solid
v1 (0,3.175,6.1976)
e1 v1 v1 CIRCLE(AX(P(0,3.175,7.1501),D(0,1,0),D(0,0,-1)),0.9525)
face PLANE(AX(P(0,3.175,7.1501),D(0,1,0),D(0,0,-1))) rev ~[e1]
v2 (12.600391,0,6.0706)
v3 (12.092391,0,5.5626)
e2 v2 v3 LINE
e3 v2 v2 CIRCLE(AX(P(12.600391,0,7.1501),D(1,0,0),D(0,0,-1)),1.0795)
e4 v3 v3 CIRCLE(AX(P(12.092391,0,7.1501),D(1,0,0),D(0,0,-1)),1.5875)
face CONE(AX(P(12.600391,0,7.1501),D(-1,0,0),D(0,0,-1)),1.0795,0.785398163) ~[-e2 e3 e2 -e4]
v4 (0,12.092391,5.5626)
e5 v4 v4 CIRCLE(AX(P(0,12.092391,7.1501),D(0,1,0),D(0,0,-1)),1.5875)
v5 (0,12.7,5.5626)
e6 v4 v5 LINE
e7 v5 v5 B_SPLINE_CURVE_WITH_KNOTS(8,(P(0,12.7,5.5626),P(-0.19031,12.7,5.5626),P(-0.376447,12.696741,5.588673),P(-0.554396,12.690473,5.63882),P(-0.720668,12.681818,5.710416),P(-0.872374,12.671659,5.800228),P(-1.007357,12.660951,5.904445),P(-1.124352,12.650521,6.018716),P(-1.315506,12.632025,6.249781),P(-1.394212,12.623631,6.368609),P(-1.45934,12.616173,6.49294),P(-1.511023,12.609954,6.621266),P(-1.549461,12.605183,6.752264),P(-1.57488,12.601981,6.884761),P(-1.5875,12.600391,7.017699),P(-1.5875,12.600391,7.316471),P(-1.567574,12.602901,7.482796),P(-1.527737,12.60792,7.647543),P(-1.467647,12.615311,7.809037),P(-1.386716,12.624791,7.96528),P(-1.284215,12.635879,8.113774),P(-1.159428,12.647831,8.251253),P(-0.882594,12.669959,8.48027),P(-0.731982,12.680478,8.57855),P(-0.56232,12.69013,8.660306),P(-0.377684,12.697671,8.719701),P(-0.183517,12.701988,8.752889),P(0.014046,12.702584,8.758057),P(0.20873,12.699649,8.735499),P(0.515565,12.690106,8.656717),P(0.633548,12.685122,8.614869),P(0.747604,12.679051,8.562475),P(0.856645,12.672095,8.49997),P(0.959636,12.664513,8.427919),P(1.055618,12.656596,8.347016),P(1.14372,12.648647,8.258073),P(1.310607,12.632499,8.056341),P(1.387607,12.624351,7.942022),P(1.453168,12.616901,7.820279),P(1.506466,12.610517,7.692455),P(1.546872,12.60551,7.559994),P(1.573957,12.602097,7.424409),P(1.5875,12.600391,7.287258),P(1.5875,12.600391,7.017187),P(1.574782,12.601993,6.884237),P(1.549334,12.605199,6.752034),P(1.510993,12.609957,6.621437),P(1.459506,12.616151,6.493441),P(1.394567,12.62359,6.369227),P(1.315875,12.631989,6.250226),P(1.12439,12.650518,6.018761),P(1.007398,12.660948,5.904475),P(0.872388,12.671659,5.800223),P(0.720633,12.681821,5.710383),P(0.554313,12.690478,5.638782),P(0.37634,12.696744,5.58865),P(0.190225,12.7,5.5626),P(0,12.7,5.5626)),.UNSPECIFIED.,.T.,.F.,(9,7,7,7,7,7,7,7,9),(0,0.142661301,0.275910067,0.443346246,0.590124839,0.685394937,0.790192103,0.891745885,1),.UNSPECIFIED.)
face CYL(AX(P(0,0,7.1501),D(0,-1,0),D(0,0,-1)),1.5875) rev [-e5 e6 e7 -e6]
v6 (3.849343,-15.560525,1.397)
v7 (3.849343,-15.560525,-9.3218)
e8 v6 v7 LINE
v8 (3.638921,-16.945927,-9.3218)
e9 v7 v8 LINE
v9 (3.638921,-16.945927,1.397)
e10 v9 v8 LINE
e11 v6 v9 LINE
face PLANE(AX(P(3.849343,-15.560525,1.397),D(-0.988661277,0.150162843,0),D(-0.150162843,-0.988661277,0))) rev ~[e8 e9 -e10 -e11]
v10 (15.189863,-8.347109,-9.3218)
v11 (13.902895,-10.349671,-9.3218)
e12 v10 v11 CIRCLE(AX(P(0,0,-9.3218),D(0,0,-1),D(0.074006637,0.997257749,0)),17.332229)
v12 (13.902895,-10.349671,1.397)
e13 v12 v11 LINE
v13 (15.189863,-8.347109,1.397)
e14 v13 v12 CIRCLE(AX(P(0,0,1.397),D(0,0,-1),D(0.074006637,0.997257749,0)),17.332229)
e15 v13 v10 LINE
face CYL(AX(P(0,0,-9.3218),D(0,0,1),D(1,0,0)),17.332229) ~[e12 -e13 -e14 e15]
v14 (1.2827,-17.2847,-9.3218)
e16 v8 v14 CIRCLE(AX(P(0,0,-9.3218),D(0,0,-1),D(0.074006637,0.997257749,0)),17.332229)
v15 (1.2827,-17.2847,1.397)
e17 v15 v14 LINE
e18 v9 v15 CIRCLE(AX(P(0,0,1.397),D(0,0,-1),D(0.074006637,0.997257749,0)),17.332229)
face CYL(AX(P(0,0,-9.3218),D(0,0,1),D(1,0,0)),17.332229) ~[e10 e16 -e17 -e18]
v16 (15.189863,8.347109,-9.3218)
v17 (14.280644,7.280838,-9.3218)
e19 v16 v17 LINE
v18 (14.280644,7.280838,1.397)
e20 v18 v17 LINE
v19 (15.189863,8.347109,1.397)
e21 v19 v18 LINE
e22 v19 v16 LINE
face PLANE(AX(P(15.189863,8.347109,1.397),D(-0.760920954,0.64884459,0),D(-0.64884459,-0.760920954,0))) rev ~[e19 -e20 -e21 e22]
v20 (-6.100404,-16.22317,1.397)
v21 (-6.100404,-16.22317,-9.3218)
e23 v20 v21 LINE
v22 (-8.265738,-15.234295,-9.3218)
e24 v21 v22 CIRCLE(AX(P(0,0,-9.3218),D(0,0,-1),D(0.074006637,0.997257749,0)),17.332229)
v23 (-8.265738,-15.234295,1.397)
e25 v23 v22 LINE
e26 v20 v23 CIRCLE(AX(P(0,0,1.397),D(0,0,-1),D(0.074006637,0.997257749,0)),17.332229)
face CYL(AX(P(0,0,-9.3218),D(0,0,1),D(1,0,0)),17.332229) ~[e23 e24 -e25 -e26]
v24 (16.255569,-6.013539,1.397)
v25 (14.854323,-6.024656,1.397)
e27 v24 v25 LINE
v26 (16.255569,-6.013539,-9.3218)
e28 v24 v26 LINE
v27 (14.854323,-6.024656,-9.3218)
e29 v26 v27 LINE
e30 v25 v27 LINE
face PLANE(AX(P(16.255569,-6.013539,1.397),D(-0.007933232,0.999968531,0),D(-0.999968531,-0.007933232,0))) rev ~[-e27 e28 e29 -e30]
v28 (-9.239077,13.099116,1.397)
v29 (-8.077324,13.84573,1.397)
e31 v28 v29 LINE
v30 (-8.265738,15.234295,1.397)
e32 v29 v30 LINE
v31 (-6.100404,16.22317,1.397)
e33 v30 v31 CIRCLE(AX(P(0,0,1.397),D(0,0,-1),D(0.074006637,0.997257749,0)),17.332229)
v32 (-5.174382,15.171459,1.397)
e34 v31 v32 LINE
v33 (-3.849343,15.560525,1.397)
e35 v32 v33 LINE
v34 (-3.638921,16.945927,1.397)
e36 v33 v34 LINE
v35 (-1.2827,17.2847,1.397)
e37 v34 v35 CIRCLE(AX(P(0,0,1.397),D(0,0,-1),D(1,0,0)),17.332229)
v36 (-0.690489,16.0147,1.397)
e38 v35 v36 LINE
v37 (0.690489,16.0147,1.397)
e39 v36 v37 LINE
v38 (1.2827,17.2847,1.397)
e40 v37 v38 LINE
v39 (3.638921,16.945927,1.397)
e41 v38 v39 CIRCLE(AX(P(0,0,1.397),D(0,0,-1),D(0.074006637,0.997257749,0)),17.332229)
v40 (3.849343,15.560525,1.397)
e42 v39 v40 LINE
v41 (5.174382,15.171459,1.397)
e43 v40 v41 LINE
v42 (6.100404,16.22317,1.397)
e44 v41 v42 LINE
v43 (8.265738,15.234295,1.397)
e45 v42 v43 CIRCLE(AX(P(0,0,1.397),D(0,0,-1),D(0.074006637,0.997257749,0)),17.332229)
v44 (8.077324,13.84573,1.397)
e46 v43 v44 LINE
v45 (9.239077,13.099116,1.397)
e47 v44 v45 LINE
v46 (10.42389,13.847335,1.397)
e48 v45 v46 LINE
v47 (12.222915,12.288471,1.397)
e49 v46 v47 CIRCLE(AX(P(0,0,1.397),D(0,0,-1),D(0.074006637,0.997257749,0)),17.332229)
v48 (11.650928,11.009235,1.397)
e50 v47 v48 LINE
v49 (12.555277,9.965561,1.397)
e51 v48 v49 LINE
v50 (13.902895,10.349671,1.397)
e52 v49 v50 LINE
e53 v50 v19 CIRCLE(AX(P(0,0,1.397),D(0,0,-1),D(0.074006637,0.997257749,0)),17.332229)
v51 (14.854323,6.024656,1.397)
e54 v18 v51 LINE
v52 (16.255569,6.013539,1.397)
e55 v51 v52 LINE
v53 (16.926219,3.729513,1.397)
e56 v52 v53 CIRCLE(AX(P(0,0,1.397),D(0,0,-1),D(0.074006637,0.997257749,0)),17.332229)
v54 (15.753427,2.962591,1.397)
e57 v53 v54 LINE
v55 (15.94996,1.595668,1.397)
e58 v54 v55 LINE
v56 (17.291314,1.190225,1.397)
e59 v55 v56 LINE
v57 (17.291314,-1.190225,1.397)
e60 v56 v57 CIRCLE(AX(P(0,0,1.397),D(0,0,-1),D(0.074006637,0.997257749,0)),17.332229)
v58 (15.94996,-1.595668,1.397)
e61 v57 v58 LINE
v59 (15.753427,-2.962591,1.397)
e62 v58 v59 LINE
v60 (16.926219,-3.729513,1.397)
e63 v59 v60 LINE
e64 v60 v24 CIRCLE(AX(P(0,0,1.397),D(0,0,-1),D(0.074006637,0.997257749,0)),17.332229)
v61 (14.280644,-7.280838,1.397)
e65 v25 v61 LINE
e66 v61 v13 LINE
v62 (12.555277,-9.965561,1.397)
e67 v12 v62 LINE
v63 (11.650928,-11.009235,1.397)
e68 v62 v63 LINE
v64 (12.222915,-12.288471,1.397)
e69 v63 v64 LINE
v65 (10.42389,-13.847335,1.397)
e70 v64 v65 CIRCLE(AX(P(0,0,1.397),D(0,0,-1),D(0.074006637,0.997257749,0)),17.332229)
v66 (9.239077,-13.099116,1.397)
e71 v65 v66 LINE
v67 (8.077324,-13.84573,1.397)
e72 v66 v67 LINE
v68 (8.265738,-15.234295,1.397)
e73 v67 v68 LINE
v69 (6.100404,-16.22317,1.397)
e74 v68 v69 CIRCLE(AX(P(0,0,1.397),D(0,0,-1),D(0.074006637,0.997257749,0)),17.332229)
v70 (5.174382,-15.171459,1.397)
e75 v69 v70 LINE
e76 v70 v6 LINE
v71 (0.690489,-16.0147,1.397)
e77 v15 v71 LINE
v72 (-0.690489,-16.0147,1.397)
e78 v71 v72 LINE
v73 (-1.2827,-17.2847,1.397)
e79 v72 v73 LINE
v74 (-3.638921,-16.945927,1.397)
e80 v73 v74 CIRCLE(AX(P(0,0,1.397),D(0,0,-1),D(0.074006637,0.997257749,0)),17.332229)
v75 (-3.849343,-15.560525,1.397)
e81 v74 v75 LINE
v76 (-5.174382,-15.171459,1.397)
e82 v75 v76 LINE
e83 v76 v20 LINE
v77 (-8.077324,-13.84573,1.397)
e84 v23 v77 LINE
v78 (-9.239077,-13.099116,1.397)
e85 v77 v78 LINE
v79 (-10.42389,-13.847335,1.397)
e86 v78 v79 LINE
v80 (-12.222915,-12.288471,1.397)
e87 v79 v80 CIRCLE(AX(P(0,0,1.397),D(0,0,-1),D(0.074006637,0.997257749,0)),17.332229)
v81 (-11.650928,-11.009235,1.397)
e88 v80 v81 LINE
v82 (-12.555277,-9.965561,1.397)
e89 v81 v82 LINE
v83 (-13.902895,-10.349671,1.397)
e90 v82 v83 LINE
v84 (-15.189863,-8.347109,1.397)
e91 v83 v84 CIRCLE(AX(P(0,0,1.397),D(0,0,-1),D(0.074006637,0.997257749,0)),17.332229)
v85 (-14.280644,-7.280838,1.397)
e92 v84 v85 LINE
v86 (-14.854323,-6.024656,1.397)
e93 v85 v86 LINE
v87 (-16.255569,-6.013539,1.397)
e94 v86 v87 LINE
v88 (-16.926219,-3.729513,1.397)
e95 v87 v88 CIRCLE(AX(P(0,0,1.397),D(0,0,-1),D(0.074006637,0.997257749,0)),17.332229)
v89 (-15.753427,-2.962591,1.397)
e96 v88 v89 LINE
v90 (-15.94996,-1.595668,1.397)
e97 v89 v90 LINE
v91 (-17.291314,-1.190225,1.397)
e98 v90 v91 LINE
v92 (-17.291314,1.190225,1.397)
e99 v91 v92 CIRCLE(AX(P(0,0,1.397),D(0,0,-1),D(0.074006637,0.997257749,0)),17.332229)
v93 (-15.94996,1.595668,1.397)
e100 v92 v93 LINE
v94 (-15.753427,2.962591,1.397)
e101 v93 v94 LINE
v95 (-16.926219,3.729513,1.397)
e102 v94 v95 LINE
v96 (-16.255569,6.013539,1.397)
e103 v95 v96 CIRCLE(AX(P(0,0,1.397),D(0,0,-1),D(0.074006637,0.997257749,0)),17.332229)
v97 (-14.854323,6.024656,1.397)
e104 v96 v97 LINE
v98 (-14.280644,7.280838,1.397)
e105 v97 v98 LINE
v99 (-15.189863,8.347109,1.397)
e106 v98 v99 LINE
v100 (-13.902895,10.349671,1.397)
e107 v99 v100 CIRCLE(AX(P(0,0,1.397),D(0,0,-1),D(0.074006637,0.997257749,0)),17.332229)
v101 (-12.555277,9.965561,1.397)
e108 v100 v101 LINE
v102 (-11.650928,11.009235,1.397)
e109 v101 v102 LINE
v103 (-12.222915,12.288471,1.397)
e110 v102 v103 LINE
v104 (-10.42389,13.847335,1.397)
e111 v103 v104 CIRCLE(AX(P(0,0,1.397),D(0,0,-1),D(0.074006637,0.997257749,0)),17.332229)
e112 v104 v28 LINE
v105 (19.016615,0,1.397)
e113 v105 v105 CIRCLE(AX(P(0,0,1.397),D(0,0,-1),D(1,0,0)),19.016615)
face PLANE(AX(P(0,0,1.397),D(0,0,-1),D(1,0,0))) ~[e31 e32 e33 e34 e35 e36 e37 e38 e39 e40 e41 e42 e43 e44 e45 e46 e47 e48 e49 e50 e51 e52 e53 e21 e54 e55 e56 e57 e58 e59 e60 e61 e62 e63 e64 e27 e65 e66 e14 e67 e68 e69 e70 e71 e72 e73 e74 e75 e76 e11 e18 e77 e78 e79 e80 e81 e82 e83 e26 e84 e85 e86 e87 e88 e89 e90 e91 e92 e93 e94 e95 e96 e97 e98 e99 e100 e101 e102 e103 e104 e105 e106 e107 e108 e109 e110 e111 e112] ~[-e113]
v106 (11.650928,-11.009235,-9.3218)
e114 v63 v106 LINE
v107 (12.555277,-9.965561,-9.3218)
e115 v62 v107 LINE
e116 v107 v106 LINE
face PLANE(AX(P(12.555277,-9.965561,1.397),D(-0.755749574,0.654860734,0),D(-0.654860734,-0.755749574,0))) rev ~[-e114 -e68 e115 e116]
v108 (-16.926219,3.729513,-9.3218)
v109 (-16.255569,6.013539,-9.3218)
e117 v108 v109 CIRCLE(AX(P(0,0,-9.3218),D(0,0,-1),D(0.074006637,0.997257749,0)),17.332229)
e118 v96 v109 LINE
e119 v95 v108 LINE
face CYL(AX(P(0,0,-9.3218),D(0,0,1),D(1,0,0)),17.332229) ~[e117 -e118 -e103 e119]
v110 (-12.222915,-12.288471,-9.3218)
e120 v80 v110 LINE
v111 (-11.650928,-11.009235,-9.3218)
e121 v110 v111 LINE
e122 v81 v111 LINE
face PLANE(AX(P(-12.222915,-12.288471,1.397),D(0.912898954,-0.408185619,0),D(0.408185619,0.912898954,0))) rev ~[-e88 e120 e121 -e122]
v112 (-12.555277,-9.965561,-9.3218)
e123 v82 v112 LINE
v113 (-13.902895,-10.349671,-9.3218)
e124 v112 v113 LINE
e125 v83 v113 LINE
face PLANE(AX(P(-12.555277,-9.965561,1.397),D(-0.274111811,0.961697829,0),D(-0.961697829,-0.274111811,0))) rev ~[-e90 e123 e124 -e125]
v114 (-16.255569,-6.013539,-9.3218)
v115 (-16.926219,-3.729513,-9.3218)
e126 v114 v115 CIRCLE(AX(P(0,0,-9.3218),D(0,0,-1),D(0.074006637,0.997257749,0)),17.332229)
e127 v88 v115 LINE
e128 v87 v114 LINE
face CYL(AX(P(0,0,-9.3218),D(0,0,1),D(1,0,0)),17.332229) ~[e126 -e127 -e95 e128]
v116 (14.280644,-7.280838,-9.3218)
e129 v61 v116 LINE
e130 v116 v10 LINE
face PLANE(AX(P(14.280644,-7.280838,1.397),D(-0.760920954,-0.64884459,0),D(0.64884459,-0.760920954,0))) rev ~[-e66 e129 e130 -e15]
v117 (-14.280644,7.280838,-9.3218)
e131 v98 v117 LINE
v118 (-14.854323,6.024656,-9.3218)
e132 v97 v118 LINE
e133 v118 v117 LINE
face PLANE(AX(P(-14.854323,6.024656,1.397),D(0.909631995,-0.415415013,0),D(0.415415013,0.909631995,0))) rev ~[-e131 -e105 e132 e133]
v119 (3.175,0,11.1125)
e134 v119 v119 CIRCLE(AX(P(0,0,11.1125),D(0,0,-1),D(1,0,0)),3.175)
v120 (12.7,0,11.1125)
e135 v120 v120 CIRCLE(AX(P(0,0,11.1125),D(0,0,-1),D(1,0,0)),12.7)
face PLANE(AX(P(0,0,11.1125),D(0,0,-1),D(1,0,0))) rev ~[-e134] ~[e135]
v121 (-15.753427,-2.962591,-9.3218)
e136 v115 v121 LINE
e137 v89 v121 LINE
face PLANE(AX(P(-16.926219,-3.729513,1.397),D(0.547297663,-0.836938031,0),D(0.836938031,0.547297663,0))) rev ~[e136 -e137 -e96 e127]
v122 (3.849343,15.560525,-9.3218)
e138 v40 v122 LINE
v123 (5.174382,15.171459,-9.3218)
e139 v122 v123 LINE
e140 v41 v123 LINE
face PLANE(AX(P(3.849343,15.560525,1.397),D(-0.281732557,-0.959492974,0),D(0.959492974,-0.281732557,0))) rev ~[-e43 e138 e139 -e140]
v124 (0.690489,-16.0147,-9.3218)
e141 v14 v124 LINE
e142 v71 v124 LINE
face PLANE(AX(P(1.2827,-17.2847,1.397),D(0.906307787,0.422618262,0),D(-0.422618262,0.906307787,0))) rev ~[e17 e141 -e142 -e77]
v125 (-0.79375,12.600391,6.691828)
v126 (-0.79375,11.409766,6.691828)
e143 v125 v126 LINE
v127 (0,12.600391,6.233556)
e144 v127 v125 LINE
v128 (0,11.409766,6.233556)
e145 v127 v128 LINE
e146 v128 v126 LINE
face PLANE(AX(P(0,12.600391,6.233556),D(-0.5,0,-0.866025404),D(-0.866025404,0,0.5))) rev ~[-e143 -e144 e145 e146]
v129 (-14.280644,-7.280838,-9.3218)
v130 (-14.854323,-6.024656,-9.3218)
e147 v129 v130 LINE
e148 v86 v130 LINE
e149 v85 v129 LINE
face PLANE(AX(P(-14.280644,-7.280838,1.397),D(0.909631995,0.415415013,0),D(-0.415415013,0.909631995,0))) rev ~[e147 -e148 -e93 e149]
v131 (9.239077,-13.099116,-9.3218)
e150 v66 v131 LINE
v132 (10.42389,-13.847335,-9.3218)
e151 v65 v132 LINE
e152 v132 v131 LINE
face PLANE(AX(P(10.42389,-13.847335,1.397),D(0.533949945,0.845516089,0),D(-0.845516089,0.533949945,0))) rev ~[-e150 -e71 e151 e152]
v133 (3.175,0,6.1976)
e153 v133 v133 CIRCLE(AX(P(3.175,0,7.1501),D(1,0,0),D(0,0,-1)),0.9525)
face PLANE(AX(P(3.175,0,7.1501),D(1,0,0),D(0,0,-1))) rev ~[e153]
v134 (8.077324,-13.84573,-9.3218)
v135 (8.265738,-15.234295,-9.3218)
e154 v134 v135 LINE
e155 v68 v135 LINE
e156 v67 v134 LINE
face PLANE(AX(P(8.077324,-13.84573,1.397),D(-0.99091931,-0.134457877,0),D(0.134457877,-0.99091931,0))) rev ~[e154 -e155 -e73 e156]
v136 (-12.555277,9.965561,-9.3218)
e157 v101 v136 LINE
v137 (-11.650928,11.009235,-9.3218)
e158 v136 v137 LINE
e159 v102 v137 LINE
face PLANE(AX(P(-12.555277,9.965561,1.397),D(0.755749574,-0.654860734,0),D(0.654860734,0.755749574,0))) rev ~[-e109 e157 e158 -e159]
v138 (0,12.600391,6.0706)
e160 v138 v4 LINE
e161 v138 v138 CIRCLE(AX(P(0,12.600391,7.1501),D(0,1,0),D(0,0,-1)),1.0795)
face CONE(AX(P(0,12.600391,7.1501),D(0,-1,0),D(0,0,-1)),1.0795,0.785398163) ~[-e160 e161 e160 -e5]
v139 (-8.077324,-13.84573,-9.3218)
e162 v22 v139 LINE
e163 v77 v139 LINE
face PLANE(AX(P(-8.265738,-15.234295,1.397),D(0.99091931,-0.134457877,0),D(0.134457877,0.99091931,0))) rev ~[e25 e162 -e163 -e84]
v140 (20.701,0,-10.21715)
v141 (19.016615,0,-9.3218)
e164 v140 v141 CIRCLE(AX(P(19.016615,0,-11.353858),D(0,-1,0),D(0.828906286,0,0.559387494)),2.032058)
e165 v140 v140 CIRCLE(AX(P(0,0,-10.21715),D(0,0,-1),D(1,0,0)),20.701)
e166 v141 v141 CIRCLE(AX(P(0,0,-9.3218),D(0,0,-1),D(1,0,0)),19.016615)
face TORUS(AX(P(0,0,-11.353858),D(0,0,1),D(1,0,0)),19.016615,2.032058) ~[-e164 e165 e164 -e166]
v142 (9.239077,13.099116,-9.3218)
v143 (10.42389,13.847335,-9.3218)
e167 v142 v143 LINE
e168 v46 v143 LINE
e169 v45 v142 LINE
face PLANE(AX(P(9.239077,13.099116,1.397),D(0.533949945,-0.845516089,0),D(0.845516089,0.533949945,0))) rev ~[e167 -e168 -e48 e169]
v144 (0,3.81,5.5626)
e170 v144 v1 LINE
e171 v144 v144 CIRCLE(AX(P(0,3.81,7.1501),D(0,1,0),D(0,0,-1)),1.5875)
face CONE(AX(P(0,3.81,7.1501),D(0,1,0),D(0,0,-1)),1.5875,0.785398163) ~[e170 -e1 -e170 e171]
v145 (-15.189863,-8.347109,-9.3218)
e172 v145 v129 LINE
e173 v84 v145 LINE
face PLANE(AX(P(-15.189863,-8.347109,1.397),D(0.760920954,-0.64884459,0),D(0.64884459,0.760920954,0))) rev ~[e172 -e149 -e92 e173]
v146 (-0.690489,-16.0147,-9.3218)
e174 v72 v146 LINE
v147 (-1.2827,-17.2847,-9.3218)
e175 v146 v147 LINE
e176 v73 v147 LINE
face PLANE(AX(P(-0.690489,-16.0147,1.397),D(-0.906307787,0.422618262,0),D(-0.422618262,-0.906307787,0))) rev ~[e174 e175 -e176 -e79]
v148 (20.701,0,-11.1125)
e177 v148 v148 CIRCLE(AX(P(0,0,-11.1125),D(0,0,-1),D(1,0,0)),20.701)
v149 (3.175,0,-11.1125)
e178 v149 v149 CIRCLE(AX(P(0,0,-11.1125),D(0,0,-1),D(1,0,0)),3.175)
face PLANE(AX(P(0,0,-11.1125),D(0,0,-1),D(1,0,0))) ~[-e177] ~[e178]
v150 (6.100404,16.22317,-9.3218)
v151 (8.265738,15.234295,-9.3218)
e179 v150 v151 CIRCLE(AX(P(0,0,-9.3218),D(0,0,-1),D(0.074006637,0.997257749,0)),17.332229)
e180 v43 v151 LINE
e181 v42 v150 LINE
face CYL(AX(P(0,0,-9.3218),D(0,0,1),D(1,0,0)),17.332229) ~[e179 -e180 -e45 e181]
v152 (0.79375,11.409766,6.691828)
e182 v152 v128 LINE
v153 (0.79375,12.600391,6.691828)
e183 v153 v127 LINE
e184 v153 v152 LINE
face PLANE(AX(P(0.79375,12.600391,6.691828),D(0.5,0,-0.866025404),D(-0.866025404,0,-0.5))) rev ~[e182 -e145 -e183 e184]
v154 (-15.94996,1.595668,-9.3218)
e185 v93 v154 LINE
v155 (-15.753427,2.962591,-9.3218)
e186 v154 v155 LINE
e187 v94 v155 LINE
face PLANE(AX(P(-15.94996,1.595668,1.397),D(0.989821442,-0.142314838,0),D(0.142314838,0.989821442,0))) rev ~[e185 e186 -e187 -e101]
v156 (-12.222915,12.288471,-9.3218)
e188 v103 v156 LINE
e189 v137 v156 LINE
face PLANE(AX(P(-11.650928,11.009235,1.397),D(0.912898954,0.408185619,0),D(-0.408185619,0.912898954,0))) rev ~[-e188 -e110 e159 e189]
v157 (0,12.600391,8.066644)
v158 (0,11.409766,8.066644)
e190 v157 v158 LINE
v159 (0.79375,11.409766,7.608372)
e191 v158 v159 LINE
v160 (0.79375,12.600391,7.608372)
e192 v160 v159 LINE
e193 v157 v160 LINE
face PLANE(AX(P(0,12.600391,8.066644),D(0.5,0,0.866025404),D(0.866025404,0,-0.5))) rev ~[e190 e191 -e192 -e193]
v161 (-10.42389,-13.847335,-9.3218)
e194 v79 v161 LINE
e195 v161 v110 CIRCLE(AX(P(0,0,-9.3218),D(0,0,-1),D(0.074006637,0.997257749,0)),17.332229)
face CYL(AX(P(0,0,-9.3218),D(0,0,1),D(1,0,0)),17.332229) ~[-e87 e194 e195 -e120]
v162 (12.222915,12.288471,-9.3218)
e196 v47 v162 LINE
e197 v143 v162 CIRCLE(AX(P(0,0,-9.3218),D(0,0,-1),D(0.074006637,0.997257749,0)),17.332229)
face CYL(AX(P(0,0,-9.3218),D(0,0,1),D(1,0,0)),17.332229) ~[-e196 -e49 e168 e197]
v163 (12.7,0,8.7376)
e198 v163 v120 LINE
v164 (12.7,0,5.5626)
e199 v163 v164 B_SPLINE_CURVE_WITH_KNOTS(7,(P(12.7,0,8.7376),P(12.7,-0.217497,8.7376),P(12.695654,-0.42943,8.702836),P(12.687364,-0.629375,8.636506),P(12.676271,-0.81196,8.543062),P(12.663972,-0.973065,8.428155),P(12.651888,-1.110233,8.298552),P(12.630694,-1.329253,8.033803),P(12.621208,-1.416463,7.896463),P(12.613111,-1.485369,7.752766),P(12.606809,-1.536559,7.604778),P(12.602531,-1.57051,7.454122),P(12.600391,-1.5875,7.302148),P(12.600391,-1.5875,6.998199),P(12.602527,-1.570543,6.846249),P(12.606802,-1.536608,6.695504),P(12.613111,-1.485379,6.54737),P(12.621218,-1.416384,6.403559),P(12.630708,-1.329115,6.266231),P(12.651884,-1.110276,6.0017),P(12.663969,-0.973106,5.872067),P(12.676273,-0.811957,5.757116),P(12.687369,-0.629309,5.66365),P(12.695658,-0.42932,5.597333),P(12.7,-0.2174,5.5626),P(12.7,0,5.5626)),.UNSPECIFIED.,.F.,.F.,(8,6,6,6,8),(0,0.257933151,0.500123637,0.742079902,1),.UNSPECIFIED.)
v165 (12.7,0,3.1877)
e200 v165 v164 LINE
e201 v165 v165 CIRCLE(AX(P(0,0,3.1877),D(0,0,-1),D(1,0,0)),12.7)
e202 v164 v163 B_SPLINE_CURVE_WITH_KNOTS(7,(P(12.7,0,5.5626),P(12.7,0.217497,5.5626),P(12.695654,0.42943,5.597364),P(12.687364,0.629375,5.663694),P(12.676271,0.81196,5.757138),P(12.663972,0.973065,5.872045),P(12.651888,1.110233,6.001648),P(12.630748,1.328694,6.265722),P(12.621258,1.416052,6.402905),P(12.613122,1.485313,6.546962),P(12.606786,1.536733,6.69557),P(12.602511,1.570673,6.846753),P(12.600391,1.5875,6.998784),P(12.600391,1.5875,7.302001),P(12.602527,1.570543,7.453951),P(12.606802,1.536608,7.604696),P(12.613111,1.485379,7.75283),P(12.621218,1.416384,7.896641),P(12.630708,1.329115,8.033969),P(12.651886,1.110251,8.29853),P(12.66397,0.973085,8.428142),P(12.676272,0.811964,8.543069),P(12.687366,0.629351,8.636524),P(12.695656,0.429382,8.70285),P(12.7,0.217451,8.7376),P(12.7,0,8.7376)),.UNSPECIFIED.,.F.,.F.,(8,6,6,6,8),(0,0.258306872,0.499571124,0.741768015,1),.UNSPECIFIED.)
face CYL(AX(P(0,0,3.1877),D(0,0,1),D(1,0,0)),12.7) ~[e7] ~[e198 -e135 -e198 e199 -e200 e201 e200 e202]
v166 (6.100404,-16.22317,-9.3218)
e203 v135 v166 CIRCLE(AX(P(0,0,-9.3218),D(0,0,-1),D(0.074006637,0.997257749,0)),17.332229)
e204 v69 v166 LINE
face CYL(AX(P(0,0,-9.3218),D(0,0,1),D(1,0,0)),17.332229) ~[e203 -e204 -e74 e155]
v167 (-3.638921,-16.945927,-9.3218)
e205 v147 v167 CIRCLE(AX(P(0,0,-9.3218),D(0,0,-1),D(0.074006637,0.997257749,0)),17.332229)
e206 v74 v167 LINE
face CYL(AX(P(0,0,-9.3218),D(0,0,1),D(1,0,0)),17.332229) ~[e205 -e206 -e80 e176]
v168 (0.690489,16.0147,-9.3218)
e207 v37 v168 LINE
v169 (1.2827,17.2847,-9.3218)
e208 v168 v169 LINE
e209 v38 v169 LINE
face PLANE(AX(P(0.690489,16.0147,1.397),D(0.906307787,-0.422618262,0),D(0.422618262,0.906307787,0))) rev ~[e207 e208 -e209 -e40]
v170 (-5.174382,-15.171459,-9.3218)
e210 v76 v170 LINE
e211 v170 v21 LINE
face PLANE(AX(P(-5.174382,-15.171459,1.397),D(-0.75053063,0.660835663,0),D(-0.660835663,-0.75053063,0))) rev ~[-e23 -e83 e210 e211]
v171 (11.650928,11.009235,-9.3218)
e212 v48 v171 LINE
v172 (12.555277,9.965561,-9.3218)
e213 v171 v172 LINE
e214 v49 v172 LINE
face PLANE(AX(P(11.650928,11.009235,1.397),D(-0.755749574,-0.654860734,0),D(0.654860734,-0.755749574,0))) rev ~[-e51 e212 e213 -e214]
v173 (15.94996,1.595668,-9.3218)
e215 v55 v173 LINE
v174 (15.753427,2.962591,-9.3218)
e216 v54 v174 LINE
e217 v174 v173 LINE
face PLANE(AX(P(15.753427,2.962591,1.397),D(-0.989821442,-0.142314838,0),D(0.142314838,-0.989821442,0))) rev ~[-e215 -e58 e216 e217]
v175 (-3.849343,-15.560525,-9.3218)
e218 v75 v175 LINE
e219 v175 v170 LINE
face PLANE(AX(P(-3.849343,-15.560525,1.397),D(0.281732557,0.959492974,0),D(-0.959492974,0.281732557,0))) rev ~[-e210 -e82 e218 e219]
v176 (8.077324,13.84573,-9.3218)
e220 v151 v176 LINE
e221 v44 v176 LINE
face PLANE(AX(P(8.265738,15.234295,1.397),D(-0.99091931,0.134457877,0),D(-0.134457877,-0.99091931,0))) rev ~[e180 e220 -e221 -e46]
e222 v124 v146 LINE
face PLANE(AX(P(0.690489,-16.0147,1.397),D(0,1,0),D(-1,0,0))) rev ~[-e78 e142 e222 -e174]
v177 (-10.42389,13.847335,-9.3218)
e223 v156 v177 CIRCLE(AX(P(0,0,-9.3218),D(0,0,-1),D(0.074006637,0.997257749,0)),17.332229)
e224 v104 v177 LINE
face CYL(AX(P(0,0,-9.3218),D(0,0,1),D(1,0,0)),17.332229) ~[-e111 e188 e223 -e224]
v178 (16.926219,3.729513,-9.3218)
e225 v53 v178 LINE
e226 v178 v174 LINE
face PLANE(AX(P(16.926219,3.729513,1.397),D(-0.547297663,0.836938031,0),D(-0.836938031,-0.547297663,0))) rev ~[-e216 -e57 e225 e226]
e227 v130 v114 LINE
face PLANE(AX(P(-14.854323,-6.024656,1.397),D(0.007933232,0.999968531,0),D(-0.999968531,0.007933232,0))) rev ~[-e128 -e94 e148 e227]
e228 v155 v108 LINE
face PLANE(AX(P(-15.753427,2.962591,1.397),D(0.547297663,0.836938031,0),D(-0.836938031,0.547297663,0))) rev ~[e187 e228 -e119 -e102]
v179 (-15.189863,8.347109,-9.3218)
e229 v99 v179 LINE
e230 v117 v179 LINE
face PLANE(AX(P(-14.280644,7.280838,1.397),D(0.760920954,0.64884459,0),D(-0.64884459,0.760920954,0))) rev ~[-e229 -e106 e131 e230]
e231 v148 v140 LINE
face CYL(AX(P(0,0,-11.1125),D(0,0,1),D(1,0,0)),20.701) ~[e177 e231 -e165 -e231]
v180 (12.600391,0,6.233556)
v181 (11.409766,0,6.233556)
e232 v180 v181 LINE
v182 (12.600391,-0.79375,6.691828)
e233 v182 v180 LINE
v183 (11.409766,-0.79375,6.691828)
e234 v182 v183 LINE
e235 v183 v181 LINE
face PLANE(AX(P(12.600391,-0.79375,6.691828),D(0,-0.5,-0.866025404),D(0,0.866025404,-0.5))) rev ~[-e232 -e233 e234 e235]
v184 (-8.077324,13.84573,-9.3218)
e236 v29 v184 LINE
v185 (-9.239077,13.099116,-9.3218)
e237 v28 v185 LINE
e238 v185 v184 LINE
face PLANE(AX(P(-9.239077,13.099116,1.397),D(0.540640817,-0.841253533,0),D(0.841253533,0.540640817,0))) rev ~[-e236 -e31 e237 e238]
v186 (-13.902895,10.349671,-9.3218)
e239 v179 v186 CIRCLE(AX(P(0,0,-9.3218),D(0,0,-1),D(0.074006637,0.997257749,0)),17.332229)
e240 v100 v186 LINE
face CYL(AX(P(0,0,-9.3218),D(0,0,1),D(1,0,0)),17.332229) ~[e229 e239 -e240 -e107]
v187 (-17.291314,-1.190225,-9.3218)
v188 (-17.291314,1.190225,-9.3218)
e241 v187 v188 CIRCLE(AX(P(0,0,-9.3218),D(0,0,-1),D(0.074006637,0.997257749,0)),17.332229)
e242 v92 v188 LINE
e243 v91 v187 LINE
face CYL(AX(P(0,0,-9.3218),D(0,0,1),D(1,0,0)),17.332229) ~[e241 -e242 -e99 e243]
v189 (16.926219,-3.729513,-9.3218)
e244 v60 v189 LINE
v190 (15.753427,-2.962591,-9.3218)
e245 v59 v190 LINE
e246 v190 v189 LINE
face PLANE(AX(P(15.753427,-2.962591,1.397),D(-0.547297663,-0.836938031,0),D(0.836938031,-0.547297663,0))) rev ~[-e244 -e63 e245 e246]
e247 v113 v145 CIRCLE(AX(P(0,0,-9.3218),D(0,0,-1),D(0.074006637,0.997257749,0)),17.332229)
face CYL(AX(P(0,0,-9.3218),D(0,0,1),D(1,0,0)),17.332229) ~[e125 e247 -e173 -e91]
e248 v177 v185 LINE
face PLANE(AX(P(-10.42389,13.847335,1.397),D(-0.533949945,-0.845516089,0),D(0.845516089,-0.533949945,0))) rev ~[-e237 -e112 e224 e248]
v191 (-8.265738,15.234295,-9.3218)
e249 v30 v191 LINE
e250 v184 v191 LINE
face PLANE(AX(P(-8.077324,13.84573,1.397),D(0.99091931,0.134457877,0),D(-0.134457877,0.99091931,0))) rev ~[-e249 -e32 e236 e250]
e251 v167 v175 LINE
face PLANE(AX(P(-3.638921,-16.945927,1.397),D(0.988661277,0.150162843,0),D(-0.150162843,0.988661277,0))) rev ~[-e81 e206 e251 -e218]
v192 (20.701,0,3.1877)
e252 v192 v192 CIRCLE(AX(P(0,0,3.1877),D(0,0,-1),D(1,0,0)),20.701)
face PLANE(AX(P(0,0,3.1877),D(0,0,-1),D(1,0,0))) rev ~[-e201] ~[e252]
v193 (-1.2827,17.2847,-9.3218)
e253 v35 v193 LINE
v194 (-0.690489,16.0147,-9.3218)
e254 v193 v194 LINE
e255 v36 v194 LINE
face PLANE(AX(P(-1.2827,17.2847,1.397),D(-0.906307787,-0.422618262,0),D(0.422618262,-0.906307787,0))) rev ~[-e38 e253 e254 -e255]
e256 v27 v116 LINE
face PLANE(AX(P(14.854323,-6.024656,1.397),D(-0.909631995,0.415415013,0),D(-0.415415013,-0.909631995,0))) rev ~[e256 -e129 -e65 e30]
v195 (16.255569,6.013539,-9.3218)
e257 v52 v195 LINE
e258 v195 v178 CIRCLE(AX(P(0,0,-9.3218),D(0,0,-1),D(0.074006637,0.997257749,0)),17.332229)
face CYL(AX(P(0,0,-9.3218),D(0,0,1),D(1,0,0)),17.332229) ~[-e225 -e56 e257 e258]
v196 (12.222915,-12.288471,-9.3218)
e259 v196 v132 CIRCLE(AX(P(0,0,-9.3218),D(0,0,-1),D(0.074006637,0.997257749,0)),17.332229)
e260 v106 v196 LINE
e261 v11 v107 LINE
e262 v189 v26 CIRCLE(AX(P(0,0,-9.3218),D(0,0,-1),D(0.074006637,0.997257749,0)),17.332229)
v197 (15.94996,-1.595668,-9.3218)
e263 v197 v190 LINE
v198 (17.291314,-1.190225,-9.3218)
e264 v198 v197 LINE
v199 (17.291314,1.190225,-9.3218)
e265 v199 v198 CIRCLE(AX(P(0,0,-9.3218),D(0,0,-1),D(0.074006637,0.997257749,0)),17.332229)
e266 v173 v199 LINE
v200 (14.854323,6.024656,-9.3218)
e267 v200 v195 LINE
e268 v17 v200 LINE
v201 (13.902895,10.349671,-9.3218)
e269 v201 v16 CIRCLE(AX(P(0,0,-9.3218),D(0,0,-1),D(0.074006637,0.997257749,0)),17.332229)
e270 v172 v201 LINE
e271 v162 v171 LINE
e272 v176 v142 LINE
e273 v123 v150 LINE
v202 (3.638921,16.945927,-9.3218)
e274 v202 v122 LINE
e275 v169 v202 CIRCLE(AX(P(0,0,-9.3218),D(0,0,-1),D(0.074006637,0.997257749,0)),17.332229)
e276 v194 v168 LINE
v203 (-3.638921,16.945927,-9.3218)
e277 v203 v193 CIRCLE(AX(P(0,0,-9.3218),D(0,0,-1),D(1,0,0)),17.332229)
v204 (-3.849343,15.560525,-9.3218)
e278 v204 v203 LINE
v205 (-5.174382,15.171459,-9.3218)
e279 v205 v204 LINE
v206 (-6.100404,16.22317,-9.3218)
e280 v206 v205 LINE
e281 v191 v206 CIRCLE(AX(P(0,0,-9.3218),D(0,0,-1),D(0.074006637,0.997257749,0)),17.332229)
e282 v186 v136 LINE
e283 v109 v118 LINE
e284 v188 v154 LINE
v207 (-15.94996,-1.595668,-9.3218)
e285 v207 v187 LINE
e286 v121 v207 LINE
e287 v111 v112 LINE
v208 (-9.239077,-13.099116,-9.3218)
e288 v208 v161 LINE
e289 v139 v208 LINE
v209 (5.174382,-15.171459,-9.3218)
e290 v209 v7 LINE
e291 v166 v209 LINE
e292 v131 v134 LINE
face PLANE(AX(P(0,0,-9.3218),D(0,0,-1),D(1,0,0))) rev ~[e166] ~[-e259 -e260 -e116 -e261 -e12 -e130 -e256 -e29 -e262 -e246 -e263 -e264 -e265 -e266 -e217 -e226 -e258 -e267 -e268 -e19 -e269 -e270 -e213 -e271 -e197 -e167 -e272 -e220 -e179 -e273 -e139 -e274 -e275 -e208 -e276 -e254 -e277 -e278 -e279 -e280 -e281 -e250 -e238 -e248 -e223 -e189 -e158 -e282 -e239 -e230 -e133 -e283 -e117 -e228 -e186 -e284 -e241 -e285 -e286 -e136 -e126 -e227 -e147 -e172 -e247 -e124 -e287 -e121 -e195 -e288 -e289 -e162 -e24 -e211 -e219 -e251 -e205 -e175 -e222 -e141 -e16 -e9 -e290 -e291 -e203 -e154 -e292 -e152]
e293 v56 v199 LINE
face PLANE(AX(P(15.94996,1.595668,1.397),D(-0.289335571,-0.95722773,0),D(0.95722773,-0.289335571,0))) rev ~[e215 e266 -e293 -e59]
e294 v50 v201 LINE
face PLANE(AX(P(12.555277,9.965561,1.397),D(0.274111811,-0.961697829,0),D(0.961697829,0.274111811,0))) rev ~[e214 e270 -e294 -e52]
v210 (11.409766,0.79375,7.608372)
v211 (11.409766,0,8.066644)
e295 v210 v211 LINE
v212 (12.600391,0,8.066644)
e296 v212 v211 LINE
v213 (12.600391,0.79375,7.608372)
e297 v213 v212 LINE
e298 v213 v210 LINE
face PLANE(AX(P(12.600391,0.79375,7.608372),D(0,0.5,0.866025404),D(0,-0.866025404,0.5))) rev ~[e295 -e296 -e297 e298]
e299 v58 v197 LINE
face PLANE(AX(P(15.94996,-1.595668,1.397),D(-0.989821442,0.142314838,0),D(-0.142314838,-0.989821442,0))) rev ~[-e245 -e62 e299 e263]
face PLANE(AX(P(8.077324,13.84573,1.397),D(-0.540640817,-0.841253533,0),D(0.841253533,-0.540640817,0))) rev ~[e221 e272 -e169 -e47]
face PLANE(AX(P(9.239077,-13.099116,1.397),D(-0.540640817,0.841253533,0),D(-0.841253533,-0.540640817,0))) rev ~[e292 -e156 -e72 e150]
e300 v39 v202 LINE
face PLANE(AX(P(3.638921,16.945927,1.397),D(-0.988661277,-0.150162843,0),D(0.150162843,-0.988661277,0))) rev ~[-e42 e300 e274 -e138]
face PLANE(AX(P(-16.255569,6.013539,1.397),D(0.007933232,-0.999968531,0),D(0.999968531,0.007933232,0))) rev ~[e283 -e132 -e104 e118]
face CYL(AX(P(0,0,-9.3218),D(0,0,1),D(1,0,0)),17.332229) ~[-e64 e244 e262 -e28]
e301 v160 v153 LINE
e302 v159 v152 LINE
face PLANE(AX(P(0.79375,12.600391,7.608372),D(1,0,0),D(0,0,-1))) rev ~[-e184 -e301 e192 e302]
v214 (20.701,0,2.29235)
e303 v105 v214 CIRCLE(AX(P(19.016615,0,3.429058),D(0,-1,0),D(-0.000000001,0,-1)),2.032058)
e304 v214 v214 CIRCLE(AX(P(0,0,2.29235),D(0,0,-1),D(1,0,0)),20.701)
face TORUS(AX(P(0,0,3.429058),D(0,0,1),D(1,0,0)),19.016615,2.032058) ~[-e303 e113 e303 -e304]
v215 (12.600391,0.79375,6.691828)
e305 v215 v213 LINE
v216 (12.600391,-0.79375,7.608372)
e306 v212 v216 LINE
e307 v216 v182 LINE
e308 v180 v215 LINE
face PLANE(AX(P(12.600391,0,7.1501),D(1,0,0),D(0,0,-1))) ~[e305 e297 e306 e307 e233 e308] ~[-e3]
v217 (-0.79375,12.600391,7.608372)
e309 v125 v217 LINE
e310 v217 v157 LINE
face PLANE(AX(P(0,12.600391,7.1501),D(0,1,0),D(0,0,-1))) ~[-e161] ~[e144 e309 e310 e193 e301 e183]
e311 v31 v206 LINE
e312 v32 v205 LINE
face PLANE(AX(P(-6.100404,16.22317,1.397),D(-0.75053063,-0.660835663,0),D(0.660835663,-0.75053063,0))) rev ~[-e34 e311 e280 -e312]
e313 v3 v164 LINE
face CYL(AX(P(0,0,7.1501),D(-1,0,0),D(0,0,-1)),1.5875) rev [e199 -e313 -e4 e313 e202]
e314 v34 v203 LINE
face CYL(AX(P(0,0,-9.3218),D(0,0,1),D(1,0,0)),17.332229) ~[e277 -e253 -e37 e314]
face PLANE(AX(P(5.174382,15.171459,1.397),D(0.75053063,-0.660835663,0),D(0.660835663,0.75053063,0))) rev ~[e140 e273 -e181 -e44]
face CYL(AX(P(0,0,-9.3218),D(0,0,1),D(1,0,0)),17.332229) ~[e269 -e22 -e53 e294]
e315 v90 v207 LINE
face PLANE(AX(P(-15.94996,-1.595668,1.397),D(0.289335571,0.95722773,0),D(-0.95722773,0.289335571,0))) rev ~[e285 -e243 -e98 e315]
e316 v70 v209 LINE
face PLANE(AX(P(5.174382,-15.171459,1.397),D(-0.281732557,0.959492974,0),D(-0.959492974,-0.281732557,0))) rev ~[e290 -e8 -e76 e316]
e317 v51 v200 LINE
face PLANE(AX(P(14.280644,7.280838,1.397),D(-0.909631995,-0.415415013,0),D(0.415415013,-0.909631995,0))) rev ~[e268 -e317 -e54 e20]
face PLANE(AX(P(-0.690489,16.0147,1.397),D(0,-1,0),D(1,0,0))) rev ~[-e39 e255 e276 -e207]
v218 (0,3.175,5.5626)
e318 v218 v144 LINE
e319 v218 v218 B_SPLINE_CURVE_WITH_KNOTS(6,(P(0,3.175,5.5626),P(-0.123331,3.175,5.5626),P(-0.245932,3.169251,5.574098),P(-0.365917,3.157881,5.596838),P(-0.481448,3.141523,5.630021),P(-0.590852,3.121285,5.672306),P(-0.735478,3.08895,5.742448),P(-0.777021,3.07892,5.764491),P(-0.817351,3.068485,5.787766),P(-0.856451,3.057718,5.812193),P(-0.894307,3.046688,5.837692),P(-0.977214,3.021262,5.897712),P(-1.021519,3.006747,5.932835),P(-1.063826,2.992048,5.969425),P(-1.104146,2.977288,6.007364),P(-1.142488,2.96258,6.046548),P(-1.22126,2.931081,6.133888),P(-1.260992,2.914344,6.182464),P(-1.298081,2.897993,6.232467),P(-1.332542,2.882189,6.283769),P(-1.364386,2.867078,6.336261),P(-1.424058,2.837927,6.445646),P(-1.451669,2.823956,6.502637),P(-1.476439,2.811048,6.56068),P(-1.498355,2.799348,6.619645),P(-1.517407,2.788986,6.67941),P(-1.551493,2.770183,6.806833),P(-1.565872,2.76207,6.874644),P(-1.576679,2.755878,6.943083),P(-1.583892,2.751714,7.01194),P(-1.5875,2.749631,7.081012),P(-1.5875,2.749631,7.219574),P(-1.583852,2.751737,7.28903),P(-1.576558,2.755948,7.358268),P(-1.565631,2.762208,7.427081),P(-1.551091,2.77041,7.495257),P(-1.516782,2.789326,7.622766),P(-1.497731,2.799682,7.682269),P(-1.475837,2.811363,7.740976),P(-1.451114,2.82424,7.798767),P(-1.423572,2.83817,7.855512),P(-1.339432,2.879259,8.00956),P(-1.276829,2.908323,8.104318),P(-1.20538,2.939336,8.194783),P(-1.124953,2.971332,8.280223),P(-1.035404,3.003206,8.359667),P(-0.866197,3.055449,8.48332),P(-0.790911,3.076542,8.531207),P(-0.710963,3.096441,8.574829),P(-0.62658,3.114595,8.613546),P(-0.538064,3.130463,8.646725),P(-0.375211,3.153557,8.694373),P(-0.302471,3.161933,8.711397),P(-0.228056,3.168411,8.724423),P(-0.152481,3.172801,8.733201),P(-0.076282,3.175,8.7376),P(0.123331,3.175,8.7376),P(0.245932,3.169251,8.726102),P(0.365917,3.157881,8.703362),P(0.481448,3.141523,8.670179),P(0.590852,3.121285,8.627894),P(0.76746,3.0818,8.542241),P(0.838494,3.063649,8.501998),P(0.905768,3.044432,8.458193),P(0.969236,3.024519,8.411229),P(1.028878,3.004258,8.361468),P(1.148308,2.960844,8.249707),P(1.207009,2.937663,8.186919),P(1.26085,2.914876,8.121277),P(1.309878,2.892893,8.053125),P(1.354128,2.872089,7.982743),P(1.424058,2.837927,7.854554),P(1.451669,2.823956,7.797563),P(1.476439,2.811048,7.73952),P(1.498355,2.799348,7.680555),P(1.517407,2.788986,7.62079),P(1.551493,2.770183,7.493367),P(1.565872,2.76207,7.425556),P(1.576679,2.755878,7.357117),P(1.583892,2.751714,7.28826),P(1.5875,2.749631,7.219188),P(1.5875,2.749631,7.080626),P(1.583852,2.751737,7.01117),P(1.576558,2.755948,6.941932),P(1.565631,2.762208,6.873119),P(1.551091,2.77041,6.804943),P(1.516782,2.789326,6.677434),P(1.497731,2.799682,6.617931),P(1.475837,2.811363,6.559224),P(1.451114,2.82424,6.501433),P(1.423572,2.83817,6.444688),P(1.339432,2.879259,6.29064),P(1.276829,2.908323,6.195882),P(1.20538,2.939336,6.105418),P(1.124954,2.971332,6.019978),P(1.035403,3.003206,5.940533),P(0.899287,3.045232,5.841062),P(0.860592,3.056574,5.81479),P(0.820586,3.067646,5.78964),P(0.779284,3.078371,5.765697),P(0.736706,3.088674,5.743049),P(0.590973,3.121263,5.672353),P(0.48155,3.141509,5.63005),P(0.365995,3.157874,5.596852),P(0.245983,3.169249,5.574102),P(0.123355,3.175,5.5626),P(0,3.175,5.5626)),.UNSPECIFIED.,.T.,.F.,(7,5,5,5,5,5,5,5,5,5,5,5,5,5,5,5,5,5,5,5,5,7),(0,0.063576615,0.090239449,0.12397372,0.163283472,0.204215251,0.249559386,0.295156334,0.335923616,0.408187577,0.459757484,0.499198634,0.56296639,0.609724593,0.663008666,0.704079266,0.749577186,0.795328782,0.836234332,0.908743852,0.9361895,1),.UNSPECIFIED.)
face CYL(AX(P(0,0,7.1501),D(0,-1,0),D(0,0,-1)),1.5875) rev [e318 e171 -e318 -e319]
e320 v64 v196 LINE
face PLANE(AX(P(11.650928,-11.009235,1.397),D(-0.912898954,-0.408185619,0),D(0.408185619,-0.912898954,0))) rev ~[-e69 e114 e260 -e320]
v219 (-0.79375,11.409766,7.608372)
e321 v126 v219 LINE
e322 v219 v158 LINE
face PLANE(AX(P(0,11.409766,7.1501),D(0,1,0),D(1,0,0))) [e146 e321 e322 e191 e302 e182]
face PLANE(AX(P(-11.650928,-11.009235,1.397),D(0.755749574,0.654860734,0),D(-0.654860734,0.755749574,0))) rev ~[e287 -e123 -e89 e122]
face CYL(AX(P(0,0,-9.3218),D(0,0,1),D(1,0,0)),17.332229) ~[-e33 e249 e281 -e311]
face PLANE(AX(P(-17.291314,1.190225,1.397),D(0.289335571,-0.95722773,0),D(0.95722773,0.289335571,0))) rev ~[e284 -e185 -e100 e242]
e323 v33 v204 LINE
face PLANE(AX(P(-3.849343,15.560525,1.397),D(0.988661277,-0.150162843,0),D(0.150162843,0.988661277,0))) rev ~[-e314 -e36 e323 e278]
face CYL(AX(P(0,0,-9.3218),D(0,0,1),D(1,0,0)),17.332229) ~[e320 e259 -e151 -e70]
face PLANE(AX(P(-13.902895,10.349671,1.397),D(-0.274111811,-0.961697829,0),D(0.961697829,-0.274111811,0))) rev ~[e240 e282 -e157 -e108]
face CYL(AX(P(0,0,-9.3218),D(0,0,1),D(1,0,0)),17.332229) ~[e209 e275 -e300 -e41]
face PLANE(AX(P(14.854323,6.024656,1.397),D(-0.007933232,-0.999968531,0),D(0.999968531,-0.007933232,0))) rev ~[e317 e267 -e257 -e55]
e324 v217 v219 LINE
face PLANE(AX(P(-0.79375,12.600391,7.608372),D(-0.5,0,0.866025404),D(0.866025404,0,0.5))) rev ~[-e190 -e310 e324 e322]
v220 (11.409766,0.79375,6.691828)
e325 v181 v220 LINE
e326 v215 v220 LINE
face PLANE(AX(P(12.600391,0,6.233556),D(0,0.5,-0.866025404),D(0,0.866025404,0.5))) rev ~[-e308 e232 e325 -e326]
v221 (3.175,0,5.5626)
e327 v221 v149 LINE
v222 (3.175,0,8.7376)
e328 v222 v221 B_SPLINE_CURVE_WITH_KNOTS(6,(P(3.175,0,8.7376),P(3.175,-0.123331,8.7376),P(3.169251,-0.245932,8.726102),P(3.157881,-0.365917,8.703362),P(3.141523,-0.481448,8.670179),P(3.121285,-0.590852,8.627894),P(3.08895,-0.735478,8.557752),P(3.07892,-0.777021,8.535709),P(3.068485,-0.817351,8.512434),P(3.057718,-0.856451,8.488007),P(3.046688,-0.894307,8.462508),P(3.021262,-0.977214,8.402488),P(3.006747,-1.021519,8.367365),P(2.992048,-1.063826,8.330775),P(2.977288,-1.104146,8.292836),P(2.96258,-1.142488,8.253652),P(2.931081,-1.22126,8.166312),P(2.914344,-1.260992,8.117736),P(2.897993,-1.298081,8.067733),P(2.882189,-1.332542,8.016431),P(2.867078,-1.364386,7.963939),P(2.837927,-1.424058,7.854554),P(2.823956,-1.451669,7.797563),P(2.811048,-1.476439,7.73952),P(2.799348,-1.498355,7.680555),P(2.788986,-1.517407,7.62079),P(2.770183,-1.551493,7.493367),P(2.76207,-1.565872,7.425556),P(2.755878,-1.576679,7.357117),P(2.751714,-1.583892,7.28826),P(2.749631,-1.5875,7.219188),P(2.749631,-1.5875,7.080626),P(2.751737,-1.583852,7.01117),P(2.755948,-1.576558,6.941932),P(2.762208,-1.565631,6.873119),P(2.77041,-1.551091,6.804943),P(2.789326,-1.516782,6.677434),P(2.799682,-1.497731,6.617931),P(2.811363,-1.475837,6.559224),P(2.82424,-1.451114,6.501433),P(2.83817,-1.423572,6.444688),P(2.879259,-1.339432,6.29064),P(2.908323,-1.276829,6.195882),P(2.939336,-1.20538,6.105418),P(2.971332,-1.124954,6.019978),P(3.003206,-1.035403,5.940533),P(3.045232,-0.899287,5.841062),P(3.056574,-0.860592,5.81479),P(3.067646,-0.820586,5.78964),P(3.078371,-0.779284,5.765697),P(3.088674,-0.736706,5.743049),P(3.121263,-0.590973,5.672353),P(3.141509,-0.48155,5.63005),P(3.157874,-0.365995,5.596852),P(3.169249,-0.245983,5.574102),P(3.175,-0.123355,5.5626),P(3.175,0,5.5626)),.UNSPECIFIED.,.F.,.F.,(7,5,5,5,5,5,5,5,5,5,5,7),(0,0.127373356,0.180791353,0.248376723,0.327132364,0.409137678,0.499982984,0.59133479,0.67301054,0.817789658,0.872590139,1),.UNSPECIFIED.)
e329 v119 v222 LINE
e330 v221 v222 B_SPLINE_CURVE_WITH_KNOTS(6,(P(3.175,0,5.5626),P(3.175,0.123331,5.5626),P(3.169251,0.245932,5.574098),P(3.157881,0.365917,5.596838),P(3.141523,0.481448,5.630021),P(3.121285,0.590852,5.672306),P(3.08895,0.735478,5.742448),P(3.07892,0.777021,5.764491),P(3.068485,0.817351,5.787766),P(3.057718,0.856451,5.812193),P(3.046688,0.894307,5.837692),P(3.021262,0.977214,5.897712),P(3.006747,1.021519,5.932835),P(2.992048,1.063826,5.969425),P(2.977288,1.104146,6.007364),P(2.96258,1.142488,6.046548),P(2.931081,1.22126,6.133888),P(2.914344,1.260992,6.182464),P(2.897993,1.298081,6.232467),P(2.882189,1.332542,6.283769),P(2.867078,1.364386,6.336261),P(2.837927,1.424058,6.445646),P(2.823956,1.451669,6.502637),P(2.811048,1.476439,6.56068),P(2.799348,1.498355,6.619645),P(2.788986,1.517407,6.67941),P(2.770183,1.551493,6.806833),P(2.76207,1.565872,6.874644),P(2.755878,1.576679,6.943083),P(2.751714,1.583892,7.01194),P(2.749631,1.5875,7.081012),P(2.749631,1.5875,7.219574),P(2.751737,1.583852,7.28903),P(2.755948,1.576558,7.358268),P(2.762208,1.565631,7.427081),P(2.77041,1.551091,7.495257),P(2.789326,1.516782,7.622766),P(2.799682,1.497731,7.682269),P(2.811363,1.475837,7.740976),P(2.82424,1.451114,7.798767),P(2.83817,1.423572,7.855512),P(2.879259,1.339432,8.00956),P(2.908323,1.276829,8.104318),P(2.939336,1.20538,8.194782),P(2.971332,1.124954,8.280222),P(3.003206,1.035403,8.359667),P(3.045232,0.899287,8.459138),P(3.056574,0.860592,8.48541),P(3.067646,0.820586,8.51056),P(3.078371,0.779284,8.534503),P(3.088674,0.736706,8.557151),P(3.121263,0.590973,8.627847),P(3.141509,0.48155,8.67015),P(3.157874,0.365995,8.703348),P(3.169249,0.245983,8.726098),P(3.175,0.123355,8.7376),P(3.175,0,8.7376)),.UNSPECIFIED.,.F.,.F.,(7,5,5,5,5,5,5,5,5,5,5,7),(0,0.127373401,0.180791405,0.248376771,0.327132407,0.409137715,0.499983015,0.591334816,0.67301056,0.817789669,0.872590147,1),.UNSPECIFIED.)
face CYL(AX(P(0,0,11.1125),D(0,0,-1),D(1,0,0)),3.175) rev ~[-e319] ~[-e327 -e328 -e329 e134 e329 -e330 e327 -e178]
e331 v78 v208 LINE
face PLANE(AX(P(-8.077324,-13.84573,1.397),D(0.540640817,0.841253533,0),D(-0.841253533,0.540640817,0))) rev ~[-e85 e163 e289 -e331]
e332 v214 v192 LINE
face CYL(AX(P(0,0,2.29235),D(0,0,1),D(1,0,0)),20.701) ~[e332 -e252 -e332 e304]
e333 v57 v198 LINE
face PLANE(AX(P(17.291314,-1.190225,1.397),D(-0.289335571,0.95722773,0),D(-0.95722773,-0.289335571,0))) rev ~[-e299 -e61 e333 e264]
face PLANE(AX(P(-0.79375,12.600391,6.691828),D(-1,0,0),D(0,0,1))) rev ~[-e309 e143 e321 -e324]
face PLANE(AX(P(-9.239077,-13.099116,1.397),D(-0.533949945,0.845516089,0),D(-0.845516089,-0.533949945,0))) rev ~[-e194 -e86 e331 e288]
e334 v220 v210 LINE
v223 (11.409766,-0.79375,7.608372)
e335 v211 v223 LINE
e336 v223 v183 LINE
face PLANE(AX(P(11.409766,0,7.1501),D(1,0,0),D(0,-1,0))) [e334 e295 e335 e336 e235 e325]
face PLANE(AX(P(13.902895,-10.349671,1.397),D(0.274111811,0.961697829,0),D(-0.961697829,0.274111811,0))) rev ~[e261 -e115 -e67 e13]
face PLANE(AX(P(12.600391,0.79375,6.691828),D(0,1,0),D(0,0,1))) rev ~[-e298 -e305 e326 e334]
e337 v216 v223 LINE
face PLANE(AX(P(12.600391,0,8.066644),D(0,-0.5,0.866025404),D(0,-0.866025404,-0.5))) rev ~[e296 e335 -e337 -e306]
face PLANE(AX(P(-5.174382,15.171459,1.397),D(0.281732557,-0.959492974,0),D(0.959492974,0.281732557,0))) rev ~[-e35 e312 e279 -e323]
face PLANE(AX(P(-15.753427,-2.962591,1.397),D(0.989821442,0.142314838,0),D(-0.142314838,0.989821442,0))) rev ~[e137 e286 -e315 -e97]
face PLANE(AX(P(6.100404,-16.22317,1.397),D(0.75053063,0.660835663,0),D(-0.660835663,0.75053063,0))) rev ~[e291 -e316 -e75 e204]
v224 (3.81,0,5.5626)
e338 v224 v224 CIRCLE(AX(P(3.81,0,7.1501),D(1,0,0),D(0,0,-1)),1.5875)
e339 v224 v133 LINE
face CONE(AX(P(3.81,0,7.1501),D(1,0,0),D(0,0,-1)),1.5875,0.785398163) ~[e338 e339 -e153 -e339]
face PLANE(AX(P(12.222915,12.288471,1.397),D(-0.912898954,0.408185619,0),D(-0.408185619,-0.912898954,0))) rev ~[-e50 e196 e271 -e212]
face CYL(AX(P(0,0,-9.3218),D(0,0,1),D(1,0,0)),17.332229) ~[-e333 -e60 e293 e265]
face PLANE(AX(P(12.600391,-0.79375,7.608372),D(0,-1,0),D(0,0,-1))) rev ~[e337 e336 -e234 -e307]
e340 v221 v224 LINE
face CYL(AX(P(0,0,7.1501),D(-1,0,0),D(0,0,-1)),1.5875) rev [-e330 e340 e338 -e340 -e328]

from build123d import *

# Parameters (mm, degrees)
CUT_EXTRUDE1_START = 1.397
CUT_EXTRUDE1_DEPTH = 10.7188
CIRPATTERN1_COUNT  = 22
SKETCH4_R          = 1.5875
CUT_EXTRUDE2_DEPTH = 32.313742323
CUT_EXTRUDE3_DEPTH = 1.190625
CIRPATTERN2_COUNT  = 2
CIRPATTERN2_ANGLE  = 90


with BuildPart() as part:
    # Sketch2 → Revolve1 (revolve)
    with BuildSketch(Plane(origin=(0, 0, 0), x_dir=(0, 0, -1), z_dir=(1, 0, 0)), mode=Mode.PRIVATE) as revolve1_sk:
        with BuildLine():
            Line((-11.1125, 3.175), (11.1125, 3.175))
            Line((11.1125, 3.175), (11.1125, 20.701))
            Line((11.1125, 20.701), (10.21715, 20.701))
            ThreePointArc((10.21715, 20.701), (9.559545279, 19.970397341), (9.3218, 19.016614663))
            Line((9.3218, 19.016614663), (9.3218, 17.332229325))
            Line((9.3218, 17.332229325), (-1.397, 17.332229325))
            Line((-1.397, 17.332229325), (-1.397, 19.016614663))
            ThreePointArc((-1.397, 19.016614663), (-1.634745279, 19.970397341), (-2.29235, 20.701))
            Line((-2.29235, 20.701), (-3.1877, 20.701))
            Line((-3.1877, 20.701), (-3.1877, 12.7))
            Line((-3.1877, 12.7), (-11.1125, 12.7))
            Line((-11.1125, 12.7), (-11.1125, 3.175))
        make_face()
    revolve(revolve1_sk.sketch.rotate(Axis((0, 0, 11.1125), (0, 0, -1)), 90), axis=Axis((0, 0, 11.1125), (0, 0, -1)))

    # Sketch3 → Cut-Extrude1 (cut)
    with BuildSketch(Plane.XY.offset(CUT_EXTRUDE1_START)):
        with BuildLine():
            Line((-0.690489274, 16.0147), (0.690489274, 16.0147))
            Line((0.690489274, 16.0147), (1.2827, 17.2847))
            ThreePointArc((1.2827, 17.2847), (0, 17.332229325), (-1.2827, 17.2847))
            Line((-1.2827, 17.2847), (-0.690489274, 16.0147))
        make_face()
    cut_extrude1 = extrude(amount=-CUT_EXTRUDE1_DEPTH, mode=Mode.SUBTRACT)

    # CirPattern1: Cut-Extrude1 ×22 about axis
    cirpattern1_axis = Axis((0, 0, 0), (0, 0, 1))
    for i in range(1, CIRPATTERN1_COUNT):
        add(cut_extrude1.rotate(cirpattern1_axis, i * 360 / CIRPATTERN1_COUNT), mode=Mode.SUBTRACT)

    # Sketch4 → Cut-Extrude2 (cut, through all)
    with BuildSketch(Plane(origin=(0, 0, 0), x_dir=(1, 0, 0), z_dir=(0, 1, 0))):
        with Locations(Location((0, -7.1501, 0), (0, 0, 90))):
            Circle(SKETCH4_R)
    cut_extrude2 = extrude(amount=CUT_EXTRUDE2_DEPTH, mode=Mode.SUBTRACT)

    # Sketch5 → Revolve2 (revolve)
    with BuildSketch(Plane.XY.offset(7.1501), mode=Mode.PRIVATE) as revolve2_sk:
        Polygon((1.0795, 12.600390619), (1.5875, 12.092390619), (1.5875, 3.81), (0.9525, 3.175), (0, 3.175), (0, 12.600390619), align=None)
    revolve2 = revolve(revolve2_sk.sketch.rotate(Axis((0, 0, 7.1501), (0, 1, 0)), 90), axis=Axis((0, 0, 7.1501), (0, 1, 0)))

    # Sketch6 → Cut-Extrude3 (cut)
    with BuildSketch(Plane(origin=(0, 12.600390619, 0), x_dir=(1, 0, 0), z_dir=(0, 1, 0))):
        Polygon((0, -6.233556448), (-0.79375, -6.691828224), (-0.79375, -7.608371776), (0, -8.066643552), (0.79375, -7.608371776), (0.79375, -6.691828224), align=None)
    cut_extrude3 = extrude(amount=-CUT_EXTRUDE3_DEPTH, mode=Mode.SUBTRACT)

    # CirPattern2: Cut-Extrude2, Revolve2, Cut-Extrude3 ×2 about axis
    cirpattern2_axis = Axis((0, 0, 0), (0, 0, -1))
    add([cut_extrude2.rotate(cirpattern2_axis, i * CIRPATTERN2_ANGLE / (CIRPATTERN2_COUNT - 1)) for i in range(1, CIRPATTERN2_COUNT)], mode=Mode.SUBTRACT)
    add([revolve2.rotate(cirpattern2_axis, i * CIRPATTERN2_ANGLE / (CIRPATTERN2_COUNT - 1)) for i in range(1, CIRPATTERN2_COUNT)])
    add([cut_extrude3.rotate(cirpattern2_axis, i * CIRPATTERN2_ANGLE / (CIRPATTERN2_COUNT - 1)) for i in range(1, CIRPATTERN2_COUNT)], mode=Mode.SUBTRACT)


solid = part.part
